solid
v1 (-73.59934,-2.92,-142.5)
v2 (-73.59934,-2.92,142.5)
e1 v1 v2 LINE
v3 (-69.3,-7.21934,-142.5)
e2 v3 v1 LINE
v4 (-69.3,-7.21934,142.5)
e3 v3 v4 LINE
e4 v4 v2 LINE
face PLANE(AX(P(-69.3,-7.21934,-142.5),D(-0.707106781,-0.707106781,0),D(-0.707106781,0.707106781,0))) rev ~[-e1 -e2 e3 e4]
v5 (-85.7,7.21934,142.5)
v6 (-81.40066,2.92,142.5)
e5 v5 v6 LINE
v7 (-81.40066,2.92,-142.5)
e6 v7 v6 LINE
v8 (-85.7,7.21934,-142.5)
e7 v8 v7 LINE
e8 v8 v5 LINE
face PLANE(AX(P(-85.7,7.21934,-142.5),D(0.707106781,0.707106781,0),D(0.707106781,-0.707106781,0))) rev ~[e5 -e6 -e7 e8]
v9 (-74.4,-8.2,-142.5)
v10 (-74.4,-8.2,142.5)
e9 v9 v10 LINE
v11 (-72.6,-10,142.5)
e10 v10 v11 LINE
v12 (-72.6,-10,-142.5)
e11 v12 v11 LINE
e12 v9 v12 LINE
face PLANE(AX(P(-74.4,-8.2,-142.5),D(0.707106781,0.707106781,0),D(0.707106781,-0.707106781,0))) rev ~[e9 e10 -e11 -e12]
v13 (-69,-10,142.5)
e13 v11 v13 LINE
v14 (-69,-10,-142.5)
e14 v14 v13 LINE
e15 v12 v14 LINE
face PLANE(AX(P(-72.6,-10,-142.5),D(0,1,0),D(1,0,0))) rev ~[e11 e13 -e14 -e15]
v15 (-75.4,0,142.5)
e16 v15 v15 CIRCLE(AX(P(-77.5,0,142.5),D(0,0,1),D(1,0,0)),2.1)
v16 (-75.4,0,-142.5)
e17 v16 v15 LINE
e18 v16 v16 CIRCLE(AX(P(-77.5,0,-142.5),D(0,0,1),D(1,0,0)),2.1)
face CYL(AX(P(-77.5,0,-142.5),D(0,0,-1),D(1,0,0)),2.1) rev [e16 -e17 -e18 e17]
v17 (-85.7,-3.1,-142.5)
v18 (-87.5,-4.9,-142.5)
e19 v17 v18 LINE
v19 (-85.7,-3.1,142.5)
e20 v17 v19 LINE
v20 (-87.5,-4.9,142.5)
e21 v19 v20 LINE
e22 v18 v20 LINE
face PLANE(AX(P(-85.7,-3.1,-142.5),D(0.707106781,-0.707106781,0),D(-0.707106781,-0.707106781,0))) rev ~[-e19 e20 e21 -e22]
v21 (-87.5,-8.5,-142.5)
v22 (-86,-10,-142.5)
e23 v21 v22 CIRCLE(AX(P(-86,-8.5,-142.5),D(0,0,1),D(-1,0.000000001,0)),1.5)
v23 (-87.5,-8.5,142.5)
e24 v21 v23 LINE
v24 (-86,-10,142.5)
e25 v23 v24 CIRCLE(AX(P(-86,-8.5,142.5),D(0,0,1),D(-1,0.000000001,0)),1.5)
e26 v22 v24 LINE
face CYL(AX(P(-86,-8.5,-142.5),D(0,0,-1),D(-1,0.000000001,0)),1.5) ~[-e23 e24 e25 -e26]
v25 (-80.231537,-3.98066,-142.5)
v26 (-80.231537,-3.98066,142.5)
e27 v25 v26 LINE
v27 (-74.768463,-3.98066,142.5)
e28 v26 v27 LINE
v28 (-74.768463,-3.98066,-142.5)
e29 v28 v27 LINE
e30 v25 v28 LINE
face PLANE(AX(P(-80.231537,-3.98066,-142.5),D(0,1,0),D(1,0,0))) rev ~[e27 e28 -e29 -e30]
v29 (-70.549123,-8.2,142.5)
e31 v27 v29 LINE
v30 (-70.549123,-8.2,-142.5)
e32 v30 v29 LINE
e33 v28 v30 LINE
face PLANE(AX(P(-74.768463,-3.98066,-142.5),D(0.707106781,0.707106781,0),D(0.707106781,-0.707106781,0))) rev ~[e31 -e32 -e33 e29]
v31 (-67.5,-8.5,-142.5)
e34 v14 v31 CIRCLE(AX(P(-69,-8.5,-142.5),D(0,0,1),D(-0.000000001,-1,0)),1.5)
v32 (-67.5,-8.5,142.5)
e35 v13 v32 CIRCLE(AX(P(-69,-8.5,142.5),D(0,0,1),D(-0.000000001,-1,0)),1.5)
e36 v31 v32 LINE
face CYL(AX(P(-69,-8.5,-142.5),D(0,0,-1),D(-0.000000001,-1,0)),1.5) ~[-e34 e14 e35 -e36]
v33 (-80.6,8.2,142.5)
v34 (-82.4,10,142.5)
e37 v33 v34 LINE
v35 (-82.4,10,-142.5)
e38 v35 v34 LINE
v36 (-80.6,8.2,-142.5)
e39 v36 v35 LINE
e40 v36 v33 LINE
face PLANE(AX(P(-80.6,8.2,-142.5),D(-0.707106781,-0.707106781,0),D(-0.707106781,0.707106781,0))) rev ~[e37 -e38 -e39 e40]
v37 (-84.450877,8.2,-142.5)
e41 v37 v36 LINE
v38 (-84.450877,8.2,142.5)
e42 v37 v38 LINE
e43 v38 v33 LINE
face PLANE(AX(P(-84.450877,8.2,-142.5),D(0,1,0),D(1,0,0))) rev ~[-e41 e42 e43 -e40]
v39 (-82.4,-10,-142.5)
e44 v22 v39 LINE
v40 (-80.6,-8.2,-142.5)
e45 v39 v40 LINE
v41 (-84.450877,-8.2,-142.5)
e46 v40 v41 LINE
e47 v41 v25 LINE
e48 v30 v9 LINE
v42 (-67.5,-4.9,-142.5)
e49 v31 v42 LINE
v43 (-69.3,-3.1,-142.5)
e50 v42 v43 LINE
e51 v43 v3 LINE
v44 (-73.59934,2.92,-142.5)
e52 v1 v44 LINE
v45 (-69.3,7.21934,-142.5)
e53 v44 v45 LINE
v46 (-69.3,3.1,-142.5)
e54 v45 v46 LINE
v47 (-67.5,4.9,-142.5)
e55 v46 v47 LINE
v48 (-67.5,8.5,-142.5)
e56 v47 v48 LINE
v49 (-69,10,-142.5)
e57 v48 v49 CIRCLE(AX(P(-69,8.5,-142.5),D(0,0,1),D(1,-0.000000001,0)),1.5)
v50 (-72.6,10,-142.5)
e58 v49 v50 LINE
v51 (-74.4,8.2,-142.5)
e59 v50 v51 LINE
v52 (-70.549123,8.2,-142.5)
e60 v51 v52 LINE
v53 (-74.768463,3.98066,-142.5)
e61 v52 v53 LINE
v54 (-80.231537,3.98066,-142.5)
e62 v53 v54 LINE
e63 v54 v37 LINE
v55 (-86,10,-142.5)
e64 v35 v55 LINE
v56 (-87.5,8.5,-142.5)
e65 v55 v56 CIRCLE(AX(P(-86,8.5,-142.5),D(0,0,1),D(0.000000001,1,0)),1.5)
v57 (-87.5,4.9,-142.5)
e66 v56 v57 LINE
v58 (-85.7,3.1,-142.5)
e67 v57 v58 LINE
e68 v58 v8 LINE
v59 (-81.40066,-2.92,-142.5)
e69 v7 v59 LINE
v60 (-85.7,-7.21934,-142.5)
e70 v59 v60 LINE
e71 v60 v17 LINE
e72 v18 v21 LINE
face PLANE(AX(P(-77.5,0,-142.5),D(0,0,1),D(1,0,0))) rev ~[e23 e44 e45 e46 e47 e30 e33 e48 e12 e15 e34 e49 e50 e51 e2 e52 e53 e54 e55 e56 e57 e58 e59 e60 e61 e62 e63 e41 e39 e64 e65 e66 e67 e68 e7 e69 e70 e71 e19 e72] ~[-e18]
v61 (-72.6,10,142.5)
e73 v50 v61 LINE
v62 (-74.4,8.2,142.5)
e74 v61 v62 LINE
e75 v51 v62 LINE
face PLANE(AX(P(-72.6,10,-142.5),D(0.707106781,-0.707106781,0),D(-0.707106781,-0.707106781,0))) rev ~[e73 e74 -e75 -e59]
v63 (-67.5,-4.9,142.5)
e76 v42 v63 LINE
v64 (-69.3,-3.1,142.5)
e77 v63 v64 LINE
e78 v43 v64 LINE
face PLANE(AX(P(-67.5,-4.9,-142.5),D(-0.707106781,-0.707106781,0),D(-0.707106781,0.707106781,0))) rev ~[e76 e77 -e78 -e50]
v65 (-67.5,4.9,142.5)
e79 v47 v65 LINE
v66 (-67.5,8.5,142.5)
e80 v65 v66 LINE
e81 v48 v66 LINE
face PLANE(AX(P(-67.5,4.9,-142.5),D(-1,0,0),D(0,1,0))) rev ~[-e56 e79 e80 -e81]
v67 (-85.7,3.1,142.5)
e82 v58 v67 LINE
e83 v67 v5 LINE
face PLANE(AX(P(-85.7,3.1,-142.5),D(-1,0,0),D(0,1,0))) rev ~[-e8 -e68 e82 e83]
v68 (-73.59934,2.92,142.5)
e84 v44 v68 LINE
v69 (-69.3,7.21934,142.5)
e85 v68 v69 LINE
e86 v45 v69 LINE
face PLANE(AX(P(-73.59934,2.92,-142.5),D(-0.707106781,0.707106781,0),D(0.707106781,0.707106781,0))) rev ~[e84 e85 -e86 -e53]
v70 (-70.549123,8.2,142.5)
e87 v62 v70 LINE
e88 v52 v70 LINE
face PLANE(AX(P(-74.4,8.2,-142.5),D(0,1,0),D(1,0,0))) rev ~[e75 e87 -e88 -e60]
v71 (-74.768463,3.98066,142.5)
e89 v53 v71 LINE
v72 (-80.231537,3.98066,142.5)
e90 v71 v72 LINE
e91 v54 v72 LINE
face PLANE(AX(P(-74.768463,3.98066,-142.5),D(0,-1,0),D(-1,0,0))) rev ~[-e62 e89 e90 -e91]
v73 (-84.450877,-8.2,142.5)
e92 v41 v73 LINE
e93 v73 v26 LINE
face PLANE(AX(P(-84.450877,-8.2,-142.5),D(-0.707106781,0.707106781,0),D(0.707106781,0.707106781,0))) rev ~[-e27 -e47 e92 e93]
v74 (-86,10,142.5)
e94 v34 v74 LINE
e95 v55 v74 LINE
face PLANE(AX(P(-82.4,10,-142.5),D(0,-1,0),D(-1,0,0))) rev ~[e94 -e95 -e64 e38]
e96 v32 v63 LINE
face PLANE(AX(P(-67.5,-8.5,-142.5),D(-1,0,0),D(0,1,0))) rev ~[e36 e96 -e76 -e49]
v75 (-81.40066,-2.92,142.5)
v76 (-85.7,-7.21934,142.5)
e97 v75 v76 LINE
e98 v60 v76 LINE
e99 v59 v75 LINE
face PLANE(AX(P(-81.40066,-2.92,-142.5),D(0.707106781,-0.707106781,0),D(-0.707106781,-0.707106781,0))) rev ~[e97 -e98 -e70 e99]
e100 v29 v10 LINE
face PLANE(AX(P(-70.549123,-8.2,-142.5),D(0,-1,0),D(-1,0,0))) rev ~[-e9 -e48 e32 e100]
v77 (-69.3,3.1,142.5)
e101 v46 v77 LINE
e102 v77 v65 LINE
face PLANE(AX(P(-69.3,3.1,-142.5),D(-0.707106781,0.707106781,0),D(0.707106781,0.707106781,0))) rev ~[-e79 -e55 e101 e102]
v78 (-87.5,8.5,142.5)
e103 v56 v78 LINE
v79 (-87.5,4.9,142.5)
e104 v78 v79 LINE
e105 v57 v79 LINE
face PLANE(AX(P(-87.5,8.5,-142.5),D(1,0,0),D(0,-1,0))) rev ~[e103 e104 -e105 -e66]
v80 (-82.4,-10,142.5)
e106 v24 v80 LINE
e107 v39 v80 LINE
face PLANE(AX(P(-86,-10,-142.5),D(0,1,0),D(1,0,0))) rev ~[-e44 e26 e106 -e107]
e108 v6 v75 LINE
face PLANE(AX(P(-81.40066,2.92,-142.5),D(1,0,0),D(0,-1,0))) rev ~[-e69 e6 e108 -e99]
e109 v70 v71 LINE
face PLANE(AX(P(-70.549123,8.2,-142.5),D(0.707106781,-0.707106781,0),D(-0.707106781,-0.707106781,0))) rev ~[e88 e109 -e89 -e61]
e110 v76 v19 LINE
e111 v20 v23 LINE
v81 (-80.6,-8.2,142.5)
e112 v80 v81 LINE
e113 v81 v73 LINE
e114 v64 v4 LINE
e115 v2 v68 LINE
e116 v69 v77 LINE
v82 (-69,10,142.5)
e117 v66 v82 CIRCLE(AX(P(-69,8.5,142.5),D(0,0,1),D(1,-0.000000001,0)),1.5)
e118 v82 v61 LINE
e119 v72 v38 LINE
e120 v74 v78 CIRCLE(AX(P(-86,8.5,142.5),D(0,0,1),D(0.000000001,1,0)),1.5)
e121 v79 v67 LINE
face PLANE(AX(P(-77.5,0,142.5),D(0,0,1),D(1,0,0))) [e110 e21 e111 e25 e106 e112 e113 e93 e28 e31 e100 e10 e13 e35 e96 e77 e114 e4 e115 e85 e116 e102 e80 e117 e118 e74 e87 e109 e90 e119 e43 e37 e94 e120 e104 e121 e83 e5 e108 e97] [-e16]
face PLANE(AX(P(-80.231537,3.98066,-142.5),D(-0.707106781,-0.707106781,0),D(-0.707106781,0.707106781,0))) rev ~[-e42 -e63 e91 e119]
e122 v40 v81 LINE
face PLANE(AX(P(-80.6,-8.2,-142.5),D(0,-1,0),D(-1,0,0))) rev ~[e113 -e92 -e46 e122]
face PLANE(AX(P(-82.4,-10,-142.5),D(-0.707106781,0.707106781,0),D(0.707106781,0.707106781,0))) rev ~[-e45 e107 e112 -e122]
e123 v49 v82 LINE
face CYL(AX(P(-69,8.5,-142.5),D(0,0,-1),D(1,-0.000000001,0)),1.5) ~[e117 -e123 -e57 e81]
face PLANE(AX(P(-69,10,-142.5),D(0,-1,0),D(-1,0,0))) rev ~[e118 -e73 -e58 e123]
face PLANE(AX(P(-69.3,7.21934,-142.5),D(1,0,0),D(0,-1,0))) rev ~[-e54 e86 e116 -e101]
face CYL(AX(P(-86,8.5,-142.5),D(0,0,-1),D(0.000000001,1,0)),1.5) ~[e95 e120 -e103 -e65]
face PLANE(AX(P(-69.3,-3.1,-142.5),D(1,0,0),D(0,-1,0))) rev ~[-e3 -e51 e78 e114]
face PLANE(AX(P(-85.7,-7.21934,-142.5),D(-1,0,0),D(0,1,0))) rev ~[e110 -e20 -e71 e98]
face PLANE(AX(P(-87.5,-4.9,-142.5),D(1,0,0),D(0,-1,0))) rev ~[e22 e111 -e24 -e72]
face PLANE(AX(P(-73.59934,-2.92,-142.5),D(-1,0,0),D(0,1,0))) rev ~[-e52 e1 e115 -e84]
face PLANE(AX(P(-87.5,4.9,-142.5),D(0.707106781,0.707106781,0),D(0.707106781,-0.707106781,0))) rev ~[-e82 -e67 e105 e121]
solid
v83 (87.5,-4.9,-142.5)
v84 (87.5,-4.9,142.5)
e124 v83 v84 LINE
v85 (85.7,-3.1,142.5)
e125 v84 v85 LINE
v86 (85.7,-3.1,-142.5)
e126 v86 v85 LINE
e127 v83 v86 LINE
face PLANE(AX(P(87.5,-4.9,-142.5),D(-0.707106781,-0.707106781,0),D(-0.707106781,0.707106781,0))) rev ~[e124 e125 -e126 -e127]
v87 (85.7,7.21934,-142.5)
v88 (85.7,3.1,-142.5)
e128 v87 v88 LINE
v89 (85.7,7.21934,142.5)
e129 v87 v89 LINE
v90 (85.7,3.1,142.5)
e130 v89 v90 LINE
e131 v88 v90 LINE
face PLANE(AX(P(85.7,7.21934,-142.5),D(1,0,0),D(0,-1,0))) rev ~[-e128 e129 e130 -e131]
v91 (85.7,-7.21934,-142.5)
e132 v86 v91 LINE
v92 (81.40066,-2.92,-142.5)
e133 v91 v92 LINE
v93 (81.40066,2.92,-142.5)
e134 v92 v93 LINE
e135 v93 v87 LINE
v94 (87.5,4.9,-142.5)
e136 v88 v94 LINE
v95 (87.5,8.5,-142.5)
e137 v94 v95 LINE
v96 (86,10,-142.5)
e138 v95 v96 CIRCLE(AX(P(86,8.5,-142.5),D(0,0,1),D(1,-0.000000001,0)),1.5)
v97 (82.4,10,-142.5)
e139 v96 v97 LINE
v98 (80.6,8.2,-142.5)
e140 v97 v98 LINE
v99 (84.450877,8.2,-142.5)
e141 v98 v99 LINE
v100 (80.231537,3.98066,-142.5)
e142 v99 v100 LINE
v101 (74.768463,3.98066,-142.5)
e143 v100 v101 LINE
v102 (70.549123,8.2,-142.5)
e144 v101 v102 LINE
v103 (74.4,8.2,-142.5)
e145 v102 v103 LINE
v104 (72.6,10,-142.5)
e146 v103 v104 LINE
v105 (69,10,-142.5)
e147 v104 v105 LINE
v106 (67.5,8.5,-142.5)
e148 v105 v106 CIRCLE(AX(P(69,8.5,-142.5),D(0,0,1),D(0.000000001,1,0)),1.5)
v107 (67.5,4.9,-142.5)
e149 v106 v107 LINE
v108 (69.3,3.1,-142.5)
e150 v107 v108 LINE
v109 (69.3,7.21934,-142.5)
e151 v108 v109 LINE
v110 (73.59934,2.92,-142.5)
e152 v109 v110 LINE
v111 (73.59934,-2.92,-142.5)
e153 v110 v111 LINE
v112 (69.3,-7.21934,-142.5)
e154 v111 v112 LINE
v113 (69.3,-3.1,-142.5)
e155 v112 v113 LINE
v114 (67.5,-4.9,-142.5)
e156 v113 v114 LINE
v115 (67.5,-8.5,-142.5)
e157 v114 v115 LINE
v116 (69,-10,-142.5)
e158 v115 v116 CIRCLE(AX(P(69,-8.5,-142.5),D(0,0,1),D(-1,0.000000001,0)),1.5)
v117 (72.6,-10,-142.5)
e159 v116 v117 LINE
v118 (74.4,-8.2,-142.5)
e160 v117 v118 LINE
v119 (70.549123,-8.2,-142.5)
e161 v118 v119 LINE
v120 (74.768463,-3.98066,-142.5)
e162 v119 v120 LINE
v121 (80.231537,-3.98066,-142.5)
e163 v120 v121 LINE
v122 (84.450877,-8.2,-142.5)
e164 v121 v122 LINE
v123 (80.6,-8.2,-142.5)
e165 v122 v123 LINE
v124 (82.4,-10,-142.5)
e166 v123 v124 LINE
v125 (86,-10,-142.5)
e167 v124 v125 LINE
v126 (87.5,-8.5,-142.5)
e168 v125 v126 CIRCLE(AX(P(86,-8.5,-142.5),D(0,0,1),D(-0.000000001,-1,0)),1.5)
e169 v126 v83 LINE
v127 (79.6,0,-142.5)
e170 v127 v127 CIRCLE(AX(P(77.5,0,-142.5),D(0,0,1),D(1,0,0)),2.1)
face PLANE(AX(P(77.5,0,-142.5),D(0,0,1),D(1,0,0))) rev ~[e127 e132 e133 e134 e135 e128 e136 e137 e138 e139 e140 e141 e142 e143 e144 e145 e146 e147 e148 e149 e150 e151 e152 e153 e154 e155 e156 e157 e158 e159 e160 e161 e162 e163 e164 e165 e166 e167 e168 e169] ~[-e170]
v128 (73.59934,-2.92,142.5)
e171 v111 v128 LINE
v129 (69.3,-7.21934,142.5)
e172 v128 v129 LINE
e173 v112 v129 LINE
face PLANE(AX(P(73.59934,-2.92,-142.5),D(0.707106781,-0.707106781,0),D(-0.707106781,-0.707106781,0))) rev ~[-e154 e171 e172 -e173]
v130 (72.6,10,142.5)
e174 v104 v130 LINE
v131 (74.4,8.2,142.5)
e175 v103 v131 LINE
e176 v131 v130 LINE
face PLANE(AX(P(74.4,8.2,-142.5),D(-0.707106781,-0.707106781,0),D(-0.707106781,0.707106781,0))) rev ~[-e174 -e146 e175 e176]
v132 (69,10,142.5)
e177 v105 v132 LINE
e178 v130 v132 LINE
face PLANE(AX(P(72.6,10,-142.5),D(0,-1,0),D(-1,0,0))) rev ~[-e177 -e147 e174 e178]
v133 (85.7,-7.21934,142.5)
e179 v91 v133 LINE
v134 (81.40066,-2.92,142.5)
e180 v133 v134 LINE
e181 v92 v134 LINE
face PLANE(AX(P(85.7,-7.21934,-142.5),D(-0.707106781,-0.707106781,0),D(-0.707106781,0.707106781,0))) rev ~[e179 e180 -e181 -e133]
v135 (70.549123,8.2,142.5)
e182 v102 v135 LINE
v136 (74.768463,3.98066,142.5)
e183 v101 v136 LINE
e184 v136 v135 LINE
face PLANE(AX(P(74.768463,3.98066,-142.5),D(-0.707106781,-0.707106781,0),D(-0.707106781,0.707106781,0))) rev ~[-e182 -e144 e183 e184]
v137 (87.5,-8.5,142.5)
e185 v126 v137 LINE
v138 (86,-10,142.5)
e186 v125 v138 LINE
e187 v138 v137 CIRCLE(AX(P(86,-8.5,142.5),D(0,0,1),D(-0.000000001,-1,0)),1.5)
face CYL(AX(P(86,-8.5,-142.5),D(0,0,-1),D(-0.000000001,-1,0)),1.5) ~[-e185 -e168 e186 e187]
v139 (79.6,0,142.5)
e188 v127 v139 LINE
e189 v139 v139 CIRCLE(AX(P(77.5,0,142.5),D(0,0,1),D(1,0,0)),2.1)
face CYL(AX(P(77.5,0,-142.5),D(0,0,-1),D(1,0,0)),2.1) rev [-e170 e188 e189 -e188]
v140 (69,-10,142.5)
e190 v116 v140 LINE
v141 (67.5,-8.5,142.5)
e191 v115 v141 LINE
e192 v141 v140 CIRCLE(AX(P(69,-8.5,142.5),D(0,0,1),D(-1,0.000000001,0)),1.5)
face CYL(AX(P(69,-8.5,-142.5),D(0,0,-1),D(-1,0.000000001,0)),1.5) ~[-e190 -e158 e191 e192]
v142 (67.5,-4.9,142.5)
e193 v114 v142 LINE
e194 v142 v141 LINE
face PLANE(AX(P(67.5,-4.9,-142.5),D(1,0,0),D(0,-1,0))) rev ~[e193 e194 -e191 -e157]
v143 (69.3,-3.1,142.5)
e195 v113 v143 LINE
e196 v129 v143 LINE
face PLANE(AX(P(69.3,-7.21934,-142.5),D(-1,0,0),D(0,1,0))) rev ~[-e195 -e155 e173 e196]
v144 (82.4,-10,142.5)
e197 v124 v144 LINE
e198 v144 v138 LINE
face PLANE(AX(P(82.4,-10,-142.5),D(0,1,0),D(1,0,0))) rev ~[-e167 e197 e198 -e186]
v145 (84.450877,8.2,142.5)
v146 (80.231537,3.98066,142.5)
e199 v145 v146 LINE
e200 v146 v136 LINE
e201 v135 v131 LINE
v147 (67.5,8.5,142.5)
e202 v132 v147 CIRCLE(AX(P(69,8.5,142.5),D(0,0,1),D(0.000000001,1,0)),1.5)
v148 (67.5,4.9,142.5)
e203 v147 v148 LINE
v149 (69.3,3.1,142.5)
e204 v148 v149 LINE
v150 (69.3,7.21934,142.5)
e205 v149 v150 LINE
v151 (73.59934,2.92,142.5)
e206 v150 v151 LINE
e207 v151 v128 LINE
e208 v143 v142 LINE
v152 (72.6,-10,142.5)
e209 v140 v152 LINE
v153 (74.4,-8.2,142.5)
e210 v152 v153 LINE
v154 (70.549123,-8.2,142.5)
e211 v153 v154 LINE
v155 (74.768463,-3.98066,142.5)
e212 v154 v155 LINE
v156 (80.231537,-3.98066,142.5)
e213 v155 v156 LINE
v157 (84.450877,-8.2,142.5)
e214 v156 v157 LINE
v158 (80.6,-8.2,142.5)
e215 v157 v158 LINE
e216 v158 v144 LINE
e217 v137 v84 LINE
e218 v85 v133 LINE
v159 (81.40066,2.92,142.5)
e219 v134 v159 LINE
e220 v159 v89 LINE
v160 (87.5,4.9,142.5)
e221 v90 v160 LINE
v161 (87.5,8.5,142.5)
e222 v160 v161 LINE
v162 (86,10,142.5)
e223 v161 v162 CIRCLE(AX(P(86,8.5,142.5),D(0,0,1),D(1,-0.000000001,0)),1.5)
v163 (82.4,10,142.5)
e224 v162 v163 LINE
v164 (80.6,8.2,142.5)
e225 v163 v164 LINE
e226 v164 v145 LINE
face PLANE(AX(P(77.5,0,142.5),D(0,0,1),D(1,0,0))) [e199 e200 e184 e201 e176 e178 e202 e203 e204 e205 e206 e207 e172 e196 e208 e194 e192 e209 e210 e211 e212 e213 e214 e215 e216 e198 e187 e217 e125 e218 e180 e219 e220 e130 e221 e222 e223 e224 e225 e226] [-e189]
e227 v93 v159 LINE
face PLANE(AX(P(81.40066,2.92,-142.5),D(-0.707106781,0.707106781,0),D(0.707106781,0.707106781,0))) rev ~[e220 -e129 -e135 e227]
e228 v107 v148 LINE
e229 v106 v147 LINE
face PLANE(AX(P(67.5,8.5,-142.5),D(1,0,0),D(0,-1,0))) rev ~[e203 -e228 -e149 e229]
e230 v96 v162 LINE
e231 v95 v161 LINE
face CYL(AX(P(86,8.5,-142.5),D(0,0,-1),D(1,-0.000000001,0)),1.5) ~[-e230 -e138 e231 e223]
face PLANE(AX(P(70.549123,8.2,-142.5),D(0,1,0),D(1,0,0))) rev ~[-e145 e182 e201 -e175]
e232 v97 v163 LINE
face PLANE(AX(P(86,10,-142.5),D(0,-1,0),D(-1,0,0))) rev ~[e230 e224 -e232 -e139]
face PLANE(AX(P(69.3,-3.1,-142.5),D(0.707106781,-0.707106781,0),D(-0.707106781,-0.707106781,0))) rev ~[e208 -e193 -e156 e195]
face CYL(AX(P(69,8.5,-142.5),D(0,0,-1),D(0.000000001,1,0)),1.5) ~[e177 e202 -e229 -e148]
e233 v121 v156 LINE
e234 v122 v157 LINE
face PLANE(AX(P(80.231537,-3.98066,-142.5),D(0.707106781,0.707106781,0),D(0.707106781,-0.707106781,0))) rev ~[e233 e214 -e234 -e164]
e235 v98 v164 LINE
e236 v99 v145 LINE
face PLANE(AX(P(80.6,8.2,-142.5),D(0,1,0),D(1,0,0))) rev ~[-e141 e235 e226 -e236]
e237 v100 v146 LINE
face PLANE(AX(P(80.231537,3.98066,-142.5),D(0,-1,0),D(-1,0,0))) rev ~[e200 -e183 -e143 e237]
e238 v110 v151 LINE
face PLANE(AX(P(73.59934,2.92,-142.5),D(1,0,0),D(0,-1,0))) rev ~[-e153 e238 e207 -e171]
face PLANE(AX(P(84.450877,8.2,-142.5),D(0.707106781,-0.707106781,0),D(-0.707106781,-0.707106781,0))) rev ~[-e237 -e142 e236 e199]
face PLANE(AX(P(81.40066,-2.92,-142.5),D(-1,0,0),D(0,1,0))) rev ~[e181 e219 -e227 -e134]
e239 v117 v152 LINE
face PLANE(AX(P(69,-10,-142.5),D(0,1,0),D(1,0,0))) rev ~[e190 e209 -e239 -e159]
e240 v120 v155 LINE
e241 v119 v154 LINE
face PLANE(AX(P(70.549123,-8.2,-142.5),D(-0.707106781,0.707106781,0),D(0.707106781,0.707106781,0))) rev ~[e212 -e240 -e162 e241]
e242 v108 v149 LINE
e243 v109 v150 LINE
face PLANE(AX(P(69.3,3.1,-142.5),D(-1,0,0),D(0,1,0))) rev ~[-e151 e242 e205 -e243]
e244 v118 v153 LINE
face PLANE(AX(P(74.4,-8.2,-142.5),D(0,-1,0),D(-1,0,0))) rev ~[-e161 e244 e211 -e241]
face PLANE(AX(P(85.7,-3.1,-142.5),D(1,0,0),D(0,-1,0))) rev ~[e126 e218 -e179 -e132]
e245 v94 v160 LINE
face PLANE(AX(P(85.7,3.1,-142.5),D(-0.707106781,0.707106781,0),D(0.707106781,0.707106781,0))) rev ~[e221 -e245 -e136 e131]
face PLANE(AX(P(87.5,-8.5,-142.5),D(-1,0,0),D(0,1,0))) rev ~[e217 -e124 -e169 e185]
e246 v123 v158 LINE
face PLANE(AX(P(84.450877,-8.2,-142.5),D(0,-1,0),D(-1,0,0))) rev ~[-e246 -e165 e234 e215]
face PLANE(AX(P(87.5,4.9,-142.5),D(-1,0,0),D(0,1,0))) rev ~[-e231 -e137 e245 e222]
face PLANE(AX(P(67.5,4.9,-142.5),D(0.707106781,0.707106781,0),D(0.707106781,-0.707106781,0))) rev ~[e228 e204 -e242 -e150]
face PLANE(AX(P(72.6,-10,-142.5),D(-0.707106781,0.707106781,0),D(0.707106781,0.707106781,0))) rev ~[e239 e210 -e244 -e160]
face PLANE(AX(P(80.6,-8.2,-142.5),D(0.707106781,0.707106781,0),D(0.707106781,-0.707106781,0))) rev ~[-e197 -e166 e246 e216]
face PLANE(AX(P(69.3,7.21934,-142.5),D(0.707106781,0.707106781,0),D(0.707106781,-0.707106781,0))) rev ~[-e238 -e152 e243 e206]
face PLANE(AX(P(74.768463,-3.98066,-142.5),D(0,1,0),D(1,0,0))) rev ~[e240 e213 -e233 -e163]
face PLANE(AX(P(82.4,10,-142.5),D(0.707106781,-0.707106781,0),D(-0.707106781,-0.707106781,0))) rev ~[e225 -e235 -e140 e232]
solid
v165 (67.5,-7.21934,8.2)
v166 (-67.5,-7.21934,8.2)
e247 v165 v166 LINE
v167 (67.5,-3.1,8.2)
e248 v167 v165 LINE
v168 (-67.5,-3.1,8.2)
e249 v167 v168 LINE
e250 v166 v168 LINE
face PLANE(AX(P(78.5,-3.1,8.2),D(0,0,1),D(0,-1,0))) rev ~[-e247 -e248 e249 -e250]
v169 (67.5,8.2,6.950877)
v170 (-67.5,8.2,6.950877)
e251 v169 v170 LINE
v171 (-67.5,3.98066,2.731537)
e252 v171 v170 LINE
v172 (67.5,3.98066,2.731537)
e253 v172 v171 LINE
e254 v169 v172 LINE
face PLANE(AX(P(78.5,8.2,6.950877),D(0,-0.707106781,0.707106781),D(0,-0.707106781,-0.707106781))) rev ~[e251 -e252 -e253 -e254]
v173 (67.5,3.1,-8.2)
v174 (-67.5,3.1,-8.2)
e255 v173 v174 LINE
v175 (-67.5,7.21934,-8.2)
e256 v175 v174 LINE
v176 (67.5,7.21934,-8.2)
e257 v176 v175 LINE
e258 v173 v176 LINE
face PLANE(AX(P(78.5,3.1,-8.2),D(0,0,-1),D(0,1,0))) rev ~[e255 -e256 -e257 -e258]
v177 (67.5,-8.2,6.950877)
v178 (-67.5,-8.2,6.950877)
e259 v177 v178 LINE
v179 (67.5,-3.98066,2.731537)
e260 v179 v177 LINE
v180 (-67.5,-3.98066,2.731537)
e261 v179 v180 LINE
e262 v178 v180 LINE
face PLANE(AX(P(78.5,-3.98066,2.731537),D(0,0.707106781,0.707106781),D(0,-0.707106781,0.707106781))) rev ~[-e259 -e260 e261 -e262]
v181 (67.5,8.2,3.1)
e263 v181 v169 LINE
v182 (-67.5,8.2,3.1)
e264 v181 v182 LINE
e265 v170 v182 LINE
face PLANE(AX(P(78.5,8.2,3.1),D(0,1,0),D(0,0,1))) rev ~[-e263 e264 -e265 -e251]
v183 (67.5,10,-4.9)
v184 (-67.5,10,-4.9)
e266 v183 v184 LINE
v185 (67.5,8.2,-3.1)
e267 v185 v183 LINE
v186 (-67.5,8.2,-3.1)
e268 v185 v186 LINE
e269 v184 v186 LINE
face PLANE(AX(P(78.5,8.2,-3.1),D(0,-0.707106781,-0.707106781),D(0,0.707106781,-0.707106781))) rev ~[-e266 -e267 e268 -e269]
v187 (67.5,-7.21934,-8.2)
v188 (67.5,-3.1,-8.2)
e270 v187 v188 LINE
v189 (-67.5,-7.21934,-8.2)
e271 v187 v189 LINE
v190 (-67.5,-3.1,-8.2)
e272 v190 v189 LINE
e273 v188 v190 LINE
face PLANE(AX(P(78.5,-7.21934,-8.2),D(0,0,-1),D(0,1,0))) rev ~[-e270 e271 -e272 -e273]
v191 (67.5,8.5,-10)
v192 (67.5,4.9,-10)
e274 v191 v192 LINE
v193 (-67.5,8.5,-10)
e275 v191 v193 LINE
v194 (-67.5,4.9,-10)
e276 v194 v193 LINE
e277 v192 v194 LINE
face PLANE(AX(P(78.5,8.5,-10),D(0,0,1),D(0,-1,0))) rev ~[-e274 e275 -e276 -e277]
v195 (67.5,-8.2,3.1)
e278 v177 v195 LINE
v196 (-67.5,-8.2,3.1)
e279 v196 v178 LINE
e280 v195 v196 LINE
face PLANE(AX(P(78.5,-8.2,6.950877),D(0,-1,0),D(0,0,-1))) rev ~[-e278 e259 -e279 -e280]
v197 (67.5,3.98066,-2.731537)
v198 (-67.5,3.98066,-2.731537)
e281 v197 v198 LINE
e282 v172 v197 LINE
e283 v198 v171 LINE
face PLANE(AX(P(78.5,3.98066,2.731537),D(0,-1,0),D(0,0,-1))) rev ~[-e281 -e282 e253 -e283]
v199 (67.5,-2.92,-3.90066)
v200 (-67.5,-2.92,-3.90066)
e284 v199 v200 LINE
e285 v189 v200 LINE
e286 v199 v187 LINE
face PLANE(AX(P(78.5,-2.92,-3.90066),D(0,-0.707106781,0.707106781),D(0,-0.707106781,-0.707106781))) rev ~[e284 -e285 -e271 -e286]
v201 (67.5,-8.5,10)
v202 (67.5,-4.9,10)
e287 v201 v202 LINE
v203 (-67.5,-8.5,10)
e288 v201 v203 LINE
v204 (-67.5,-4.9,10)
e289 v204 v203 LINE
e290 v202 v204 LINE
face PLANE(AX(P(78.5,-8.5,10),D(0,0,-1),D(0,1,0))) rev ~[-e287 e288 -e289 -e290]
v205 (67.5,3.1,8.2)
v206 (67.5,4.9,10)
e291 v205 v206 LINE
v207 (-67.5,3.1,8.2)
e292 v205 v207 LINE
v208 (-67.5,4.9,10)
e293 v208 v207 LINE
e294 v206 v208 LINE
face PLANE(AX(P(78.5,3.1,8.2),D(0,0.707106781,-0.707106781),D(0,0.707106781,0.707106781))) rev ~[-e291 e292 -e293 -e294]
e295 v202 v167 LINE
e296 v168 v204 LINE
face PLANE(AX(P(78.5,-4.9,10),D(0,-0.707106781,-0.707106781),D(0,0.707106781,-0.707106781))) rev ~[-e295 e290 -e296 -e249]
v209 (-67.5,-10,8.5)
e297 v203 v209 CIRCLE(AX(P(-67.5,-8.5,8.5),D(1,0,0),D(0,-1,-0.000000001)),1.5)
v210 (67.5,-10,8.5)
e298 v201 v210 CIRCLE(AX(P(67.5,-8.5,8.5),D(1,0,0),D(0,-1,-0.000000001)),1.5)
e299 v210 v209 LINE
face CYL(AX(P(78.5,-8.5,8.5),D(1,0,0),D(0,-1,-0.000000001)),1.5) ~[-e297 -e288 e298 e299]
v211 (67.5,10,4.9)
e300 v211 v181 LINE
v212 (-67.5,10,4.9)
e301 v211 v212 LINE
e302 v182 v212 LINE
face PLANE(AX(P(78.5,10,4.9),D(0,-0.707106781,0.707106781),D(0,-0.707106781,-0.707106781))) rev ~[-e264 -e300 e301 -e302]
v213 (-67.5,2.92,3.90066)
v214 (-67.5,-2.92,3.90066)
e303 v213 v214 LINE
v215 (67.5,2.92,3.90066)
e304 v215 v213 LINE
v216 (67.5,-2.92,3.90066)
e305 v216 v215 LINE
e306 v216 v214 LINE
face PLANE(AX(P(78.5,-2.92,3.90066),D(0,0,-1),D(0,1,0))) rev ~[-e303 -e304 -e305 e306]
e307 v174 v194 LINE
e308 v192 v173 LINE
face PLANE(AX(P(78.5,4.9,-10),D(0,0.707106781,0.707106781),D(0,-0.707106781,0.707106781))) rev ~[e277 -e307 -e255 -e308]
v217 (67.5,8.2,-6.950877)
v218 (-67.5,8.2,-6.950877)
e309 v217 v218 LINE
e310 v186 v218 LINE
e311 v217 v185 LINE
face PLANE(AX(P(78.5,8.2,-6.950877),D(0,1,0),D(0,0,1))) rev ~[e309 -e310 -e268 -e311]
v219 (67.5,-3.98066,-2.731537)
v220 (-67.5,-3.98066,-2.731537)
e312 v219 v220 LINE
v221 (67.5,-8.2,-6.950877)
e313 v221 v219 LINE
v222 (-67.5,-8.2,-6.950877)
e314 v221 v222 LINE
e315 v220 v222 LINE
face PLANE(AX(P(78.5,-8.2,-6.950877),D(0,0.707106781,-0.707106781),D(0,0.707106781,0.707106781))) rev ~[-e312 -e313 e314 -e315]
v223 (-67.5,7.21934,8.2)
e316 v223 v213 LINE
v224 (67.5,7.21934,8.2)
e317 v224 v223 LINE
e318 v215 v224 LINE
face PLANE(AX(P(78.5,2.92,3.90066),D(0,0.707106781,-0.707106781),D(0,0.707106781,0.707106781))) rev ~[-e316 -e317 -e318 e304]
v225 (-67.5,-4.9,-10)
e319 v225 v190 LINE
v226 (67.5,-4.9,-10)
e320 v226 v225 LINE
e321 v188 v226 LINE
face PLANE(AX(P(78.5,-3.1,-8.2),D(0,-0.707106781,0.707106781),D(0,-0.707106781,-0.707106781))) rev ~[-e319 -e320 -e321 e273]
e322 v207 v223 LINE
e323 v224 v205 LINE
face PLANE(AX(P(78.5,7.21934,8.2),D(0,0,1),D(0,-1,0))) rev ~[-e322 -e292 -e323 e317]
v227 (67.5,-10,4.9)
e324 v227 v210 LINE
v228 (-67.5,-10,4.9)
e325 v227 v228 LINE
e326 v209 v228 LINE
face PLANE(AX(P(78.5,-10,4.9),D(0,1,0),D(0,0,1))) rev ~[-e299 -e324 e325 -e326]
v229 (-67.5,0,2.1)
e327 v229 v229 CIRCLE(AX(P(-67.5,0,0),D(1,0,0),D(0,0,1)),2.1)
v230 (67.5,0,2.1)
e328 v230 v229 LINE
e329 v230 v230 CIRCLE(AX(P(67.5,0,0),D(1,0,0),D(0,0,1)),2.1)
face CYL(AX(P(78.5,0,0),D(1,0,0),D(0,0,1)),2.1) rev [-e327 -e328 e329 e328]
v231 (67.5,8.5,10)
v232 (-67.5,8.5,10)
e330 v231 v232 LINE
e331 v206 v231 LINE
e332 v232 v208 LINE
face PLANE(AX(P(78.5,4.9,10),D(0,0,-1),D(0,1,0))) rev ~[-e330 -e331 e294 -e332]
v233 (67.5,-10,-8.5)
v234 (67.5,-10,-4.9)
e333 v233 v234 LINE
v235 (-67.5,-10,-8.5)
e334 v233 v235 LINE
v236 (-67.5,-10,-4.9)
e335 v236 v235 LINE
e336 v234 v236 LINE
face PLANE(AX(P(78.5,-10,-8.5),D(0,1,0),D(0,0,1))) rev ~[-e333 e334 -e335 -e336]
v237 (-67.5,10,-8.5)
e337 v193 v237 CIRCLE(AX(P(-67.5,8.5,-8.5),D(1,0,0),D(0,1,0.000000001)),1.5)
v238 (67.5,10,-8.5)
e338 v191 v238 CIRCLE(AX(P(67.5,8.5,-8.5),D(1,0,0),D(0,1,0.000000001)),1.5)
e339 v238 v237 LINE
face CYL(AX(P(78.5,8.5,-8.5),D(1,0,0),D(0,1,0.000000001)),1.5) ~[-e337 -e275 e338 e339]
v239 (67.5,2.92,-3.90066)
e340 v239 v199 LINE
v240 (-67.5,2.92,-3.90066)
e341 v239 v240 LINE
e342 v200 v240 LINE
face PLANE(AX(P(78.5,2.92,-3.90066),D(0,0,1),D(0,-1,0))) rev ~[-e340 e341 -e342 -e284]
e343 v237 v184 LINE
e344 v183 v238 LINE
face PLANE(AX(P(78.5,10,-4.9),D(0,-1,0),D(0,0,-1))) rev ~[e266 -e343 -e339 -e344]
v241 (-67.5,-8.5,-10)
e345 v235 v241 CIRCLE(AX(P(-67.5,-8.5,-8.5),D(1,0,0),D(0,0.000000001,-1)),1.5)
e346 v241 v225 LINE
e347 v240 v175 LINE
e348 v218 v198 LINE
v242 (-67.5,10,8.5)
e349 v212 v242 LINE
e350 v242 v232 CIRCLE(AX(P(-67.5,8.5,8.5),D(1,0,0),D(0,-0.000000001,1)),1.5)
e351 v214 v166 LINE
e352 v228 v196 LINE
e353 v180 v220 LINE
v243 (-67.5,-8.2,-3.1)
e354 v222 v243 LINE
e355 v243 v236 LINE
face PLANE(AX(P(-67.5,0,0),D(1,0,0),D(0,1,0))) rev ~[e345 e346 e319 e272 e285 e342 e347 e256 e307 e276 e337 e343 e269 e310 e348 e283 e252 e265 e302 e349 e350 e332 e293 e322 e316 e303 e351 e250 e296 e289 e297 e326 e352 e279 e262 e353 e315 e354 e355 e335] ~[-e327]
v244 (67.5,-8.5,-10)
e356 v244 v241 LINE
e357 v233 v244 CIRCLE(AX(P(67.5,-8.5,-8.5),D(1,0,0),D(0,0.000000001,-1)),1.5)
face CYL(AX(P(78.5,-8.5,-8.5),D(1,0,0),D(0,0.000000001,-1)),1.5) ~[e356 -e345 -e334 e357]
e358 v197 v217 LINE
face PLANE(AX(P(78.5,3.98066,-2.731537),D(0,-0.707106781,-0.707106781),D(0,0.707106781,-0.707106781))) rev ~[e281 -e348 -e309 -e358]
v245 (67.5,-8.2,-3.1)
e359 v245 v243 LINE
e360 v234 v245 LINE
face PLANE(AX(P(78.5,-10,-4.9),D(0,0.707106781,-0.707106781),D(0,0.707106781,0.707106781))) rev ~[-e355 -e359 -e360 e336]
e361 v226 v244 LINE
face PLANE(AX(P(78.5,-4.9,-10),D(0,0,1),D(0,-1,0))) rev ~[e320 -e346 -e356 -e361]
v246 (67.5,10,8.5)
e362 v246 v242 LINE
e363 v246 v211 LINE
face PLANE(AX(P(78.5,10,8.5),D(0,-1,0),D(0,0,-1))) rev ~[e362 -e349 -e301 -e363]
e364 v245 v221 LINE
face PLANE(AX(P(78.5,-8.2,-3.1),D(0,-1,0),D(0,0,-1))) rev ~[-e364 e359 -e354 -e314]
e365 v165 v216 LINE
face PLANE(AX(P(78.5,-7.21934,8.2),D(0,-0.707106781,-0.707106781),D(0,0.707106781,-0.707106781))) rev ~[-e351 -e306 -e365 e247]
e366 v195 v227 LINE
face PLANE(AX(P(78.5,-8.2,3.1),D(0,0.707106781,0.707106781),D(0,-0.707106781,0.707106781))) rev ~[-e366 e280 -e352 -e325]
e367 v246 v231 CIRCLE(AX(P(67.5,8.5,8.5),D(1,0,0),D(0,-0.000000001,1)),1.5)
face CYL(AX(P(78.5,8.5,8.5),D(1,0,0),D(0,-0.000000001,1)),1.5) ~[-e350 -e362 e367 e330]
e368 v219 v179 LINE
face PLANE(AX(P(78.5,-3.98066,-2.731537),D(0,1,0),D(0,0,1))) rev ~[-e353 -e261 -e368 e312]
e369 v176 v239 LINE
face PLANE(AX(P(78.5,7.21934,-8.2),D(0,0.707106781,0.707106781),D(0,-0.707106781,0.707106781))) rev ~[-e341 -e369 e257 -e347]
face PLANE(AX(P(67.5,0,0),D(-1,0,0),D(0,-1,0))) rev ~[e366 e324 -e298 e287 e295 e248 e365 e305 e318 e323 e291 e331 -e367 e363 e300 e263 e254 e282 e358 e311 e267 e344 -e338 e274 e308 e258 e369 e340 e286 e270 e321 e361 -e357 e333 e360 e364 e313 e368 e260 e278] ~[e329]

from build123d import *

# Parameters (mm, degrees)
SKETCH11_R                         = 2.1
ALUMINIUM_EXTRUSION_2020_1_DEPTH   = 285
SKETCH11_ON_SEGMENT_2_R            = 2.1
ALUMINIUM_EXTRUSION_2020_1_2_DEPTH = 285
SKETCH11_ON_SEGMENT_3_R            = 2.1
ALUMINIUM_EXTRUSION_2020_1_3_DEPTH = 157


with BuildPart() as part:
    # Sketch11 → Aluminium extrusion 2020(1) (new body)
    with BuildSketch(Plane(origin=(-77.5, 0, -142.5), x_dir=(1, 0, 0), z_dir=(0, 0, 1))):
        with BuildLine():
            Line((-2.731536985, 3.980660172), (-6.950876813, 8.2))
            Line((-6.950876813, 8.2), (-3.1, 8.2))
            Line((-3.1, 8.2), (-4.9, 10))
            Line((-4.9, 10), (-8.5, 10))
            ThreePointArc((-8.5, 10), (-9.560660172, 9.560660172), (-10, 8.5))
            Line((-10, 8.5), (-10, 4.9))
            Line((-10, 4.9), (-8.2, 3.1))
            Line((-8.2, 3.1), (-8.2, 7.219339828))
            Line((-8.2, 7.219339828), (-3.900660172, 2.92))
            Line((-3.900660172, 2.92), (-3.900660172, -2.92))
            Line((-3.900660172, -2.92), (-8.2, -7.219339828))
            Line((-8.2, -7.219339828), (-8.2, -3.1))
            Line((-8.2, -3.1), (-10, -4.9))
            Line((-10, -4.9), (-10, -8.5))
            ThreePointArc((-10, -8.5), (-9.560660172, -9.560660172), (-8.5, -10))
            Line((-8.5, -10), (-4.9, -10))
            Line((-4.9, -10), (-3.1, -8.2))
            Line((-3.1, -8.2), (-6.950876813, -8.2))
            Line((-6.950876813, -8.2), (-2.731536985, -3.980660172))
            Line((-2.731536985, -3.980660172), (2.731536985, -3.980660172))
            Line((2.731536985, -3.980660172), (6.950876813, -8.2))
            Line((6.950876813, -8.2), (3.1, -8.2))
            Line((3.1, -8.2), (4.9, -10))
            Line((4.9, -10), (8.5, -10))
            ThreePointArc((8.5, -10), (9.560660172, -9.560660172), (10, -8.5))
            Line((10, -8.5), (10, -4.9))
            Line((10, -4.9), (8.2, -3.1))
            Line((8.2, -3.1), (8.2, -7.219339828))
            Line((8.2, -7.219339828), (3.900660172, -2.92))
            Line((3.900660172, -2.92), (3.900660172, 2.92))
            Line((3.900660172, 2.92), (8.2, 7.219339828))
            Line((8.2, 7.219339828), (8.2, 3.1))
            Line((8.2, 3.1), (10, 4.9))
            Line((10, 4.9), (10, 8.5))
            ThreePointArc((10, 8.5), (9.560660172, 9.560660172), (8.5, 10))
            Line((8.5, 10), (4.9, 10))
            Line((4.9, 10), (3.1, 8.2))
            Line((3.1, 8.2), (6.950876813, 8.2))
            Line((6.950876813, 8.2), (2.731536985, 3.980660172))
            Line((2.731536985, 3.980660172), (-2.731536985, 3.980660172))
        make_face()
        Circle(SKETCH11_R, mode=Mode.SUBTRACT)
    extrude(amount=ALUMINIUM_EXTRUSION_2020_1_DEPTH)


with BuildPart() as body_2:
    # Sketch11 on segment 2 (carried to segment 2) → Aluminium extrusion 2020_1 2 (new body)
    with BuildSketch(Plane(origin=(77.5, 0, -142.5), x_dir=(1, 0, 0), z_dir=(0, 0, 1))):
        with BuildLine():
            Line((-2.731536985, 3.980660172), (-6.950876813, 8.2))
            Line((-6.950876813, 8.2), (-3.1, 8.2))
            Line((-3.1, 8.2), (-4.9, 10))
            Line((-4.9, 10), (-8.5, 10))
            ThreePointArc((-8.5, 10), (-9.560660172, 9.560660172), (-10, 8.5))
            Line((-10, 8.5), (-10, 4.9))
            Line((-10, 4.9), (-8.2, 3.1))
            Line((-8.2, 3.1), (-8.2, 7.219339828))
            Line((-8.2, 7.219339828), (-3.900660172, 2.92))
            Line((-3.900660172, 2.92), (-3.900660172, -2.92))
            Line((-3.900660172, -2.92), (-8.2, -7.219339828))
            Line((-8.2, -7.219339828), (-8.2, -3.1))
            Line((-8.2, -3.1), (-10, -4.9))
            Line((-10, -4.9), (-10, -8.5))
            ThreePointArc((-10, -8.5), (-9.560660172, -9.560660172), (-8.5, -10))
            Line((-8.5, -10), (-4.9, -10))
            Line((-4.9, -10), (-3.1, -8.2))
            Line((-3.1, -8.2), (-6.950876813, -8.2))
            Line((-6.950876813, -8.2), (-2.731536985, -3.980660172))
            Line((-2.731536985, -3.980660172), (2.731536985, -3.980660172))
            Line((2.731536985, -3.980660172), (6.950876813, -8.2))
            Line((6.950876813, -8.2), (3.1, -8.2))
            Line((3.1, -8.2), (4.9, -10))
            Line((4.9, -10), (8.5, -10))
            ThreePointArc((8.5, -10), (9.560660172, -9.560660172), (10, -8.5))
            Line((10, -8.5), (10, -4.9))
            Line((10, -4.9), (8.2, -3.1))
            Line((8.2, -3.1), (8.2, -7.219339828))
            Line((8.2, -7.219339828), (3.900660172, -2.92))
            Line((3.900660172, -2.92), (3.900660172, 2.92))
            Line((3.900660172, 2.92), (8.2, 7.219339828))
            Line((8.2, 7.219339828), (8.2, 3.1))
            Line((8.2, 3.1), (10, 4.9))
            Line((10, 4.9), (10, 8.5))
            ThreePointArc((10, 8.5), (9.560660172, 9.560660172), (8.5, 10))
            Line((8.5, 10), (4.9, 10))
            Line((4.9, 10), (3.1, 8.2))
            Line((3.1, 8.2), (6.950876813, 8.2))
            Line((6.950876813, 8.2), (2.731536985, 3.980660172))
            Line((2.731536985, 3.980660172), (-2.731536985, 3.980660172))
        make_face()
        Circle(SKETCH11_ON_SEGMENT_2_R, mode=Mode.SUBTRACT)
    extrude(amount=ALUMINIUM_EXTRUSION_2020_1_2_DEPTH)


with BuildPart() as body_3:
    # Sketch11 on segment 3 (carried to segment 3) → Aluminium extrusion 2020_1 3 (new body)
    with BuildSketch(Plane.ZY.offset(-78.5)):
        with BuildLine():
            Line((-2.731536985, 3.980660172), (-6.950876813, 8.2))
            Line((-6.950876813, 8.2), (-3.1, 8.2))
            Line((-3.1, 8.2), (-4.9, 10))
            Line((-4.9, 10), (-8.5, 10))
            ThreePointArc((-8.5, 10), (-9.560660172, 9.560660172), (-10, 8.5))
            Line((-10, 8.5), (-10, 4.9))
            Line((-10, 4.9), (-8.2, 3.1))
            Line((-8.2, 3.1), (-8.2, 7.219339828))
            Line((-8.2, 7.219339828), (-3.900660172, 2.92))
            Line((-3.900660172, 2.92), (-3.900660172, -2.92))
            Line((-3.900660172, -2.92), (-8.2, -7.219339828))
            Line((-8.2, -7.219339828), (-8.2, -3.1))
            Line((-8.2, -3.1), (-10, -4.9))
            Line((-10, -4.9), (-10, -8.5))
            ThreePointArc((-10, -8.5), (-9.560660172, -9.560660172), (-8.5, -10))
            Line((-8.5, -10), (-4.9, -10))
            Line((-4.9, -10), (-3.1, -8.2))
            Line((-3.1, -8.2), (-6.950876813, -8.2))
            Line((-6.950876813, -8.2), (-2.731536985, -3.980660172))
            Line((-2.731536985, -3.980660172), (2.731536985, -3.980660172))
            Line((2.731536985, -3.980660172), (6.950876813, -8.2))
            Line((6.950876813, -8.2), (3.1, -8.2))
            Line((3.1, -8.2), (4.9, -10))
            Line((4.9, -10), (8.5, -10))
            ThreePointArc((8.5, -10), (9.560660172, -9.560660172), (10, -8.5))
            Line((10, -8.5), (10, -4.9))
            Line((10, -4.9), (8.2, -3.1))
            Line((8.2, -3.1), (8.2, -7.219339828))
            Line((8.2, -7.219339828), (3.900660172, -2.92))
            Line((3.900660172, -2.92), (3.900660172, 2.92))
            Line((3.900660172, 2.92), (8.2, 7.219339828))
            Line((8.2, 7.219339828), (8.2, 3.1))
            Line((8.2, 3.1), (10, 4.9))
            Line((10, 4.9), (10, 8.5))
            ThreePointArc((10, 8.5), (9.560660172, 9.560660172), (8.5, 10))
            Line((8.5, 10), (4.9, 10))
            Line((4.9, 10), (3.1, 8.2))
            Line((3.1, 8.2), (6.950876813, 8.2))
            Line((6.950876813, 8.2), (2.731536985, 3.980660172))
            Line((2.731536985, 3.980660172), (-2.731536985, 3.980660172))
        make_face()
        Circle(SKETCH11_ON_SEGMENT_3_R, mode=Mode.SUBTRACT)
    extrude(amount=ALUMINIUM_EXTRUSION_2020_1_3_DEPTH)

    # Aluminium extrusion 2020_1 3 end butt 1
    split(bisect_by=Plane(origin=(67.5, 0, 0), x_dir=(0, -1, 0), z_dir=(-1, 0, 0)), keep=Keep.TOP)

    # Aluminium extrusion 2020_1 3 end butt 2
    split(bisect_by=Plane.YZ.offset(-67.5), keep=Keep.TOP)


solid = Compound([part.part, body_2.part, body_3.part])
